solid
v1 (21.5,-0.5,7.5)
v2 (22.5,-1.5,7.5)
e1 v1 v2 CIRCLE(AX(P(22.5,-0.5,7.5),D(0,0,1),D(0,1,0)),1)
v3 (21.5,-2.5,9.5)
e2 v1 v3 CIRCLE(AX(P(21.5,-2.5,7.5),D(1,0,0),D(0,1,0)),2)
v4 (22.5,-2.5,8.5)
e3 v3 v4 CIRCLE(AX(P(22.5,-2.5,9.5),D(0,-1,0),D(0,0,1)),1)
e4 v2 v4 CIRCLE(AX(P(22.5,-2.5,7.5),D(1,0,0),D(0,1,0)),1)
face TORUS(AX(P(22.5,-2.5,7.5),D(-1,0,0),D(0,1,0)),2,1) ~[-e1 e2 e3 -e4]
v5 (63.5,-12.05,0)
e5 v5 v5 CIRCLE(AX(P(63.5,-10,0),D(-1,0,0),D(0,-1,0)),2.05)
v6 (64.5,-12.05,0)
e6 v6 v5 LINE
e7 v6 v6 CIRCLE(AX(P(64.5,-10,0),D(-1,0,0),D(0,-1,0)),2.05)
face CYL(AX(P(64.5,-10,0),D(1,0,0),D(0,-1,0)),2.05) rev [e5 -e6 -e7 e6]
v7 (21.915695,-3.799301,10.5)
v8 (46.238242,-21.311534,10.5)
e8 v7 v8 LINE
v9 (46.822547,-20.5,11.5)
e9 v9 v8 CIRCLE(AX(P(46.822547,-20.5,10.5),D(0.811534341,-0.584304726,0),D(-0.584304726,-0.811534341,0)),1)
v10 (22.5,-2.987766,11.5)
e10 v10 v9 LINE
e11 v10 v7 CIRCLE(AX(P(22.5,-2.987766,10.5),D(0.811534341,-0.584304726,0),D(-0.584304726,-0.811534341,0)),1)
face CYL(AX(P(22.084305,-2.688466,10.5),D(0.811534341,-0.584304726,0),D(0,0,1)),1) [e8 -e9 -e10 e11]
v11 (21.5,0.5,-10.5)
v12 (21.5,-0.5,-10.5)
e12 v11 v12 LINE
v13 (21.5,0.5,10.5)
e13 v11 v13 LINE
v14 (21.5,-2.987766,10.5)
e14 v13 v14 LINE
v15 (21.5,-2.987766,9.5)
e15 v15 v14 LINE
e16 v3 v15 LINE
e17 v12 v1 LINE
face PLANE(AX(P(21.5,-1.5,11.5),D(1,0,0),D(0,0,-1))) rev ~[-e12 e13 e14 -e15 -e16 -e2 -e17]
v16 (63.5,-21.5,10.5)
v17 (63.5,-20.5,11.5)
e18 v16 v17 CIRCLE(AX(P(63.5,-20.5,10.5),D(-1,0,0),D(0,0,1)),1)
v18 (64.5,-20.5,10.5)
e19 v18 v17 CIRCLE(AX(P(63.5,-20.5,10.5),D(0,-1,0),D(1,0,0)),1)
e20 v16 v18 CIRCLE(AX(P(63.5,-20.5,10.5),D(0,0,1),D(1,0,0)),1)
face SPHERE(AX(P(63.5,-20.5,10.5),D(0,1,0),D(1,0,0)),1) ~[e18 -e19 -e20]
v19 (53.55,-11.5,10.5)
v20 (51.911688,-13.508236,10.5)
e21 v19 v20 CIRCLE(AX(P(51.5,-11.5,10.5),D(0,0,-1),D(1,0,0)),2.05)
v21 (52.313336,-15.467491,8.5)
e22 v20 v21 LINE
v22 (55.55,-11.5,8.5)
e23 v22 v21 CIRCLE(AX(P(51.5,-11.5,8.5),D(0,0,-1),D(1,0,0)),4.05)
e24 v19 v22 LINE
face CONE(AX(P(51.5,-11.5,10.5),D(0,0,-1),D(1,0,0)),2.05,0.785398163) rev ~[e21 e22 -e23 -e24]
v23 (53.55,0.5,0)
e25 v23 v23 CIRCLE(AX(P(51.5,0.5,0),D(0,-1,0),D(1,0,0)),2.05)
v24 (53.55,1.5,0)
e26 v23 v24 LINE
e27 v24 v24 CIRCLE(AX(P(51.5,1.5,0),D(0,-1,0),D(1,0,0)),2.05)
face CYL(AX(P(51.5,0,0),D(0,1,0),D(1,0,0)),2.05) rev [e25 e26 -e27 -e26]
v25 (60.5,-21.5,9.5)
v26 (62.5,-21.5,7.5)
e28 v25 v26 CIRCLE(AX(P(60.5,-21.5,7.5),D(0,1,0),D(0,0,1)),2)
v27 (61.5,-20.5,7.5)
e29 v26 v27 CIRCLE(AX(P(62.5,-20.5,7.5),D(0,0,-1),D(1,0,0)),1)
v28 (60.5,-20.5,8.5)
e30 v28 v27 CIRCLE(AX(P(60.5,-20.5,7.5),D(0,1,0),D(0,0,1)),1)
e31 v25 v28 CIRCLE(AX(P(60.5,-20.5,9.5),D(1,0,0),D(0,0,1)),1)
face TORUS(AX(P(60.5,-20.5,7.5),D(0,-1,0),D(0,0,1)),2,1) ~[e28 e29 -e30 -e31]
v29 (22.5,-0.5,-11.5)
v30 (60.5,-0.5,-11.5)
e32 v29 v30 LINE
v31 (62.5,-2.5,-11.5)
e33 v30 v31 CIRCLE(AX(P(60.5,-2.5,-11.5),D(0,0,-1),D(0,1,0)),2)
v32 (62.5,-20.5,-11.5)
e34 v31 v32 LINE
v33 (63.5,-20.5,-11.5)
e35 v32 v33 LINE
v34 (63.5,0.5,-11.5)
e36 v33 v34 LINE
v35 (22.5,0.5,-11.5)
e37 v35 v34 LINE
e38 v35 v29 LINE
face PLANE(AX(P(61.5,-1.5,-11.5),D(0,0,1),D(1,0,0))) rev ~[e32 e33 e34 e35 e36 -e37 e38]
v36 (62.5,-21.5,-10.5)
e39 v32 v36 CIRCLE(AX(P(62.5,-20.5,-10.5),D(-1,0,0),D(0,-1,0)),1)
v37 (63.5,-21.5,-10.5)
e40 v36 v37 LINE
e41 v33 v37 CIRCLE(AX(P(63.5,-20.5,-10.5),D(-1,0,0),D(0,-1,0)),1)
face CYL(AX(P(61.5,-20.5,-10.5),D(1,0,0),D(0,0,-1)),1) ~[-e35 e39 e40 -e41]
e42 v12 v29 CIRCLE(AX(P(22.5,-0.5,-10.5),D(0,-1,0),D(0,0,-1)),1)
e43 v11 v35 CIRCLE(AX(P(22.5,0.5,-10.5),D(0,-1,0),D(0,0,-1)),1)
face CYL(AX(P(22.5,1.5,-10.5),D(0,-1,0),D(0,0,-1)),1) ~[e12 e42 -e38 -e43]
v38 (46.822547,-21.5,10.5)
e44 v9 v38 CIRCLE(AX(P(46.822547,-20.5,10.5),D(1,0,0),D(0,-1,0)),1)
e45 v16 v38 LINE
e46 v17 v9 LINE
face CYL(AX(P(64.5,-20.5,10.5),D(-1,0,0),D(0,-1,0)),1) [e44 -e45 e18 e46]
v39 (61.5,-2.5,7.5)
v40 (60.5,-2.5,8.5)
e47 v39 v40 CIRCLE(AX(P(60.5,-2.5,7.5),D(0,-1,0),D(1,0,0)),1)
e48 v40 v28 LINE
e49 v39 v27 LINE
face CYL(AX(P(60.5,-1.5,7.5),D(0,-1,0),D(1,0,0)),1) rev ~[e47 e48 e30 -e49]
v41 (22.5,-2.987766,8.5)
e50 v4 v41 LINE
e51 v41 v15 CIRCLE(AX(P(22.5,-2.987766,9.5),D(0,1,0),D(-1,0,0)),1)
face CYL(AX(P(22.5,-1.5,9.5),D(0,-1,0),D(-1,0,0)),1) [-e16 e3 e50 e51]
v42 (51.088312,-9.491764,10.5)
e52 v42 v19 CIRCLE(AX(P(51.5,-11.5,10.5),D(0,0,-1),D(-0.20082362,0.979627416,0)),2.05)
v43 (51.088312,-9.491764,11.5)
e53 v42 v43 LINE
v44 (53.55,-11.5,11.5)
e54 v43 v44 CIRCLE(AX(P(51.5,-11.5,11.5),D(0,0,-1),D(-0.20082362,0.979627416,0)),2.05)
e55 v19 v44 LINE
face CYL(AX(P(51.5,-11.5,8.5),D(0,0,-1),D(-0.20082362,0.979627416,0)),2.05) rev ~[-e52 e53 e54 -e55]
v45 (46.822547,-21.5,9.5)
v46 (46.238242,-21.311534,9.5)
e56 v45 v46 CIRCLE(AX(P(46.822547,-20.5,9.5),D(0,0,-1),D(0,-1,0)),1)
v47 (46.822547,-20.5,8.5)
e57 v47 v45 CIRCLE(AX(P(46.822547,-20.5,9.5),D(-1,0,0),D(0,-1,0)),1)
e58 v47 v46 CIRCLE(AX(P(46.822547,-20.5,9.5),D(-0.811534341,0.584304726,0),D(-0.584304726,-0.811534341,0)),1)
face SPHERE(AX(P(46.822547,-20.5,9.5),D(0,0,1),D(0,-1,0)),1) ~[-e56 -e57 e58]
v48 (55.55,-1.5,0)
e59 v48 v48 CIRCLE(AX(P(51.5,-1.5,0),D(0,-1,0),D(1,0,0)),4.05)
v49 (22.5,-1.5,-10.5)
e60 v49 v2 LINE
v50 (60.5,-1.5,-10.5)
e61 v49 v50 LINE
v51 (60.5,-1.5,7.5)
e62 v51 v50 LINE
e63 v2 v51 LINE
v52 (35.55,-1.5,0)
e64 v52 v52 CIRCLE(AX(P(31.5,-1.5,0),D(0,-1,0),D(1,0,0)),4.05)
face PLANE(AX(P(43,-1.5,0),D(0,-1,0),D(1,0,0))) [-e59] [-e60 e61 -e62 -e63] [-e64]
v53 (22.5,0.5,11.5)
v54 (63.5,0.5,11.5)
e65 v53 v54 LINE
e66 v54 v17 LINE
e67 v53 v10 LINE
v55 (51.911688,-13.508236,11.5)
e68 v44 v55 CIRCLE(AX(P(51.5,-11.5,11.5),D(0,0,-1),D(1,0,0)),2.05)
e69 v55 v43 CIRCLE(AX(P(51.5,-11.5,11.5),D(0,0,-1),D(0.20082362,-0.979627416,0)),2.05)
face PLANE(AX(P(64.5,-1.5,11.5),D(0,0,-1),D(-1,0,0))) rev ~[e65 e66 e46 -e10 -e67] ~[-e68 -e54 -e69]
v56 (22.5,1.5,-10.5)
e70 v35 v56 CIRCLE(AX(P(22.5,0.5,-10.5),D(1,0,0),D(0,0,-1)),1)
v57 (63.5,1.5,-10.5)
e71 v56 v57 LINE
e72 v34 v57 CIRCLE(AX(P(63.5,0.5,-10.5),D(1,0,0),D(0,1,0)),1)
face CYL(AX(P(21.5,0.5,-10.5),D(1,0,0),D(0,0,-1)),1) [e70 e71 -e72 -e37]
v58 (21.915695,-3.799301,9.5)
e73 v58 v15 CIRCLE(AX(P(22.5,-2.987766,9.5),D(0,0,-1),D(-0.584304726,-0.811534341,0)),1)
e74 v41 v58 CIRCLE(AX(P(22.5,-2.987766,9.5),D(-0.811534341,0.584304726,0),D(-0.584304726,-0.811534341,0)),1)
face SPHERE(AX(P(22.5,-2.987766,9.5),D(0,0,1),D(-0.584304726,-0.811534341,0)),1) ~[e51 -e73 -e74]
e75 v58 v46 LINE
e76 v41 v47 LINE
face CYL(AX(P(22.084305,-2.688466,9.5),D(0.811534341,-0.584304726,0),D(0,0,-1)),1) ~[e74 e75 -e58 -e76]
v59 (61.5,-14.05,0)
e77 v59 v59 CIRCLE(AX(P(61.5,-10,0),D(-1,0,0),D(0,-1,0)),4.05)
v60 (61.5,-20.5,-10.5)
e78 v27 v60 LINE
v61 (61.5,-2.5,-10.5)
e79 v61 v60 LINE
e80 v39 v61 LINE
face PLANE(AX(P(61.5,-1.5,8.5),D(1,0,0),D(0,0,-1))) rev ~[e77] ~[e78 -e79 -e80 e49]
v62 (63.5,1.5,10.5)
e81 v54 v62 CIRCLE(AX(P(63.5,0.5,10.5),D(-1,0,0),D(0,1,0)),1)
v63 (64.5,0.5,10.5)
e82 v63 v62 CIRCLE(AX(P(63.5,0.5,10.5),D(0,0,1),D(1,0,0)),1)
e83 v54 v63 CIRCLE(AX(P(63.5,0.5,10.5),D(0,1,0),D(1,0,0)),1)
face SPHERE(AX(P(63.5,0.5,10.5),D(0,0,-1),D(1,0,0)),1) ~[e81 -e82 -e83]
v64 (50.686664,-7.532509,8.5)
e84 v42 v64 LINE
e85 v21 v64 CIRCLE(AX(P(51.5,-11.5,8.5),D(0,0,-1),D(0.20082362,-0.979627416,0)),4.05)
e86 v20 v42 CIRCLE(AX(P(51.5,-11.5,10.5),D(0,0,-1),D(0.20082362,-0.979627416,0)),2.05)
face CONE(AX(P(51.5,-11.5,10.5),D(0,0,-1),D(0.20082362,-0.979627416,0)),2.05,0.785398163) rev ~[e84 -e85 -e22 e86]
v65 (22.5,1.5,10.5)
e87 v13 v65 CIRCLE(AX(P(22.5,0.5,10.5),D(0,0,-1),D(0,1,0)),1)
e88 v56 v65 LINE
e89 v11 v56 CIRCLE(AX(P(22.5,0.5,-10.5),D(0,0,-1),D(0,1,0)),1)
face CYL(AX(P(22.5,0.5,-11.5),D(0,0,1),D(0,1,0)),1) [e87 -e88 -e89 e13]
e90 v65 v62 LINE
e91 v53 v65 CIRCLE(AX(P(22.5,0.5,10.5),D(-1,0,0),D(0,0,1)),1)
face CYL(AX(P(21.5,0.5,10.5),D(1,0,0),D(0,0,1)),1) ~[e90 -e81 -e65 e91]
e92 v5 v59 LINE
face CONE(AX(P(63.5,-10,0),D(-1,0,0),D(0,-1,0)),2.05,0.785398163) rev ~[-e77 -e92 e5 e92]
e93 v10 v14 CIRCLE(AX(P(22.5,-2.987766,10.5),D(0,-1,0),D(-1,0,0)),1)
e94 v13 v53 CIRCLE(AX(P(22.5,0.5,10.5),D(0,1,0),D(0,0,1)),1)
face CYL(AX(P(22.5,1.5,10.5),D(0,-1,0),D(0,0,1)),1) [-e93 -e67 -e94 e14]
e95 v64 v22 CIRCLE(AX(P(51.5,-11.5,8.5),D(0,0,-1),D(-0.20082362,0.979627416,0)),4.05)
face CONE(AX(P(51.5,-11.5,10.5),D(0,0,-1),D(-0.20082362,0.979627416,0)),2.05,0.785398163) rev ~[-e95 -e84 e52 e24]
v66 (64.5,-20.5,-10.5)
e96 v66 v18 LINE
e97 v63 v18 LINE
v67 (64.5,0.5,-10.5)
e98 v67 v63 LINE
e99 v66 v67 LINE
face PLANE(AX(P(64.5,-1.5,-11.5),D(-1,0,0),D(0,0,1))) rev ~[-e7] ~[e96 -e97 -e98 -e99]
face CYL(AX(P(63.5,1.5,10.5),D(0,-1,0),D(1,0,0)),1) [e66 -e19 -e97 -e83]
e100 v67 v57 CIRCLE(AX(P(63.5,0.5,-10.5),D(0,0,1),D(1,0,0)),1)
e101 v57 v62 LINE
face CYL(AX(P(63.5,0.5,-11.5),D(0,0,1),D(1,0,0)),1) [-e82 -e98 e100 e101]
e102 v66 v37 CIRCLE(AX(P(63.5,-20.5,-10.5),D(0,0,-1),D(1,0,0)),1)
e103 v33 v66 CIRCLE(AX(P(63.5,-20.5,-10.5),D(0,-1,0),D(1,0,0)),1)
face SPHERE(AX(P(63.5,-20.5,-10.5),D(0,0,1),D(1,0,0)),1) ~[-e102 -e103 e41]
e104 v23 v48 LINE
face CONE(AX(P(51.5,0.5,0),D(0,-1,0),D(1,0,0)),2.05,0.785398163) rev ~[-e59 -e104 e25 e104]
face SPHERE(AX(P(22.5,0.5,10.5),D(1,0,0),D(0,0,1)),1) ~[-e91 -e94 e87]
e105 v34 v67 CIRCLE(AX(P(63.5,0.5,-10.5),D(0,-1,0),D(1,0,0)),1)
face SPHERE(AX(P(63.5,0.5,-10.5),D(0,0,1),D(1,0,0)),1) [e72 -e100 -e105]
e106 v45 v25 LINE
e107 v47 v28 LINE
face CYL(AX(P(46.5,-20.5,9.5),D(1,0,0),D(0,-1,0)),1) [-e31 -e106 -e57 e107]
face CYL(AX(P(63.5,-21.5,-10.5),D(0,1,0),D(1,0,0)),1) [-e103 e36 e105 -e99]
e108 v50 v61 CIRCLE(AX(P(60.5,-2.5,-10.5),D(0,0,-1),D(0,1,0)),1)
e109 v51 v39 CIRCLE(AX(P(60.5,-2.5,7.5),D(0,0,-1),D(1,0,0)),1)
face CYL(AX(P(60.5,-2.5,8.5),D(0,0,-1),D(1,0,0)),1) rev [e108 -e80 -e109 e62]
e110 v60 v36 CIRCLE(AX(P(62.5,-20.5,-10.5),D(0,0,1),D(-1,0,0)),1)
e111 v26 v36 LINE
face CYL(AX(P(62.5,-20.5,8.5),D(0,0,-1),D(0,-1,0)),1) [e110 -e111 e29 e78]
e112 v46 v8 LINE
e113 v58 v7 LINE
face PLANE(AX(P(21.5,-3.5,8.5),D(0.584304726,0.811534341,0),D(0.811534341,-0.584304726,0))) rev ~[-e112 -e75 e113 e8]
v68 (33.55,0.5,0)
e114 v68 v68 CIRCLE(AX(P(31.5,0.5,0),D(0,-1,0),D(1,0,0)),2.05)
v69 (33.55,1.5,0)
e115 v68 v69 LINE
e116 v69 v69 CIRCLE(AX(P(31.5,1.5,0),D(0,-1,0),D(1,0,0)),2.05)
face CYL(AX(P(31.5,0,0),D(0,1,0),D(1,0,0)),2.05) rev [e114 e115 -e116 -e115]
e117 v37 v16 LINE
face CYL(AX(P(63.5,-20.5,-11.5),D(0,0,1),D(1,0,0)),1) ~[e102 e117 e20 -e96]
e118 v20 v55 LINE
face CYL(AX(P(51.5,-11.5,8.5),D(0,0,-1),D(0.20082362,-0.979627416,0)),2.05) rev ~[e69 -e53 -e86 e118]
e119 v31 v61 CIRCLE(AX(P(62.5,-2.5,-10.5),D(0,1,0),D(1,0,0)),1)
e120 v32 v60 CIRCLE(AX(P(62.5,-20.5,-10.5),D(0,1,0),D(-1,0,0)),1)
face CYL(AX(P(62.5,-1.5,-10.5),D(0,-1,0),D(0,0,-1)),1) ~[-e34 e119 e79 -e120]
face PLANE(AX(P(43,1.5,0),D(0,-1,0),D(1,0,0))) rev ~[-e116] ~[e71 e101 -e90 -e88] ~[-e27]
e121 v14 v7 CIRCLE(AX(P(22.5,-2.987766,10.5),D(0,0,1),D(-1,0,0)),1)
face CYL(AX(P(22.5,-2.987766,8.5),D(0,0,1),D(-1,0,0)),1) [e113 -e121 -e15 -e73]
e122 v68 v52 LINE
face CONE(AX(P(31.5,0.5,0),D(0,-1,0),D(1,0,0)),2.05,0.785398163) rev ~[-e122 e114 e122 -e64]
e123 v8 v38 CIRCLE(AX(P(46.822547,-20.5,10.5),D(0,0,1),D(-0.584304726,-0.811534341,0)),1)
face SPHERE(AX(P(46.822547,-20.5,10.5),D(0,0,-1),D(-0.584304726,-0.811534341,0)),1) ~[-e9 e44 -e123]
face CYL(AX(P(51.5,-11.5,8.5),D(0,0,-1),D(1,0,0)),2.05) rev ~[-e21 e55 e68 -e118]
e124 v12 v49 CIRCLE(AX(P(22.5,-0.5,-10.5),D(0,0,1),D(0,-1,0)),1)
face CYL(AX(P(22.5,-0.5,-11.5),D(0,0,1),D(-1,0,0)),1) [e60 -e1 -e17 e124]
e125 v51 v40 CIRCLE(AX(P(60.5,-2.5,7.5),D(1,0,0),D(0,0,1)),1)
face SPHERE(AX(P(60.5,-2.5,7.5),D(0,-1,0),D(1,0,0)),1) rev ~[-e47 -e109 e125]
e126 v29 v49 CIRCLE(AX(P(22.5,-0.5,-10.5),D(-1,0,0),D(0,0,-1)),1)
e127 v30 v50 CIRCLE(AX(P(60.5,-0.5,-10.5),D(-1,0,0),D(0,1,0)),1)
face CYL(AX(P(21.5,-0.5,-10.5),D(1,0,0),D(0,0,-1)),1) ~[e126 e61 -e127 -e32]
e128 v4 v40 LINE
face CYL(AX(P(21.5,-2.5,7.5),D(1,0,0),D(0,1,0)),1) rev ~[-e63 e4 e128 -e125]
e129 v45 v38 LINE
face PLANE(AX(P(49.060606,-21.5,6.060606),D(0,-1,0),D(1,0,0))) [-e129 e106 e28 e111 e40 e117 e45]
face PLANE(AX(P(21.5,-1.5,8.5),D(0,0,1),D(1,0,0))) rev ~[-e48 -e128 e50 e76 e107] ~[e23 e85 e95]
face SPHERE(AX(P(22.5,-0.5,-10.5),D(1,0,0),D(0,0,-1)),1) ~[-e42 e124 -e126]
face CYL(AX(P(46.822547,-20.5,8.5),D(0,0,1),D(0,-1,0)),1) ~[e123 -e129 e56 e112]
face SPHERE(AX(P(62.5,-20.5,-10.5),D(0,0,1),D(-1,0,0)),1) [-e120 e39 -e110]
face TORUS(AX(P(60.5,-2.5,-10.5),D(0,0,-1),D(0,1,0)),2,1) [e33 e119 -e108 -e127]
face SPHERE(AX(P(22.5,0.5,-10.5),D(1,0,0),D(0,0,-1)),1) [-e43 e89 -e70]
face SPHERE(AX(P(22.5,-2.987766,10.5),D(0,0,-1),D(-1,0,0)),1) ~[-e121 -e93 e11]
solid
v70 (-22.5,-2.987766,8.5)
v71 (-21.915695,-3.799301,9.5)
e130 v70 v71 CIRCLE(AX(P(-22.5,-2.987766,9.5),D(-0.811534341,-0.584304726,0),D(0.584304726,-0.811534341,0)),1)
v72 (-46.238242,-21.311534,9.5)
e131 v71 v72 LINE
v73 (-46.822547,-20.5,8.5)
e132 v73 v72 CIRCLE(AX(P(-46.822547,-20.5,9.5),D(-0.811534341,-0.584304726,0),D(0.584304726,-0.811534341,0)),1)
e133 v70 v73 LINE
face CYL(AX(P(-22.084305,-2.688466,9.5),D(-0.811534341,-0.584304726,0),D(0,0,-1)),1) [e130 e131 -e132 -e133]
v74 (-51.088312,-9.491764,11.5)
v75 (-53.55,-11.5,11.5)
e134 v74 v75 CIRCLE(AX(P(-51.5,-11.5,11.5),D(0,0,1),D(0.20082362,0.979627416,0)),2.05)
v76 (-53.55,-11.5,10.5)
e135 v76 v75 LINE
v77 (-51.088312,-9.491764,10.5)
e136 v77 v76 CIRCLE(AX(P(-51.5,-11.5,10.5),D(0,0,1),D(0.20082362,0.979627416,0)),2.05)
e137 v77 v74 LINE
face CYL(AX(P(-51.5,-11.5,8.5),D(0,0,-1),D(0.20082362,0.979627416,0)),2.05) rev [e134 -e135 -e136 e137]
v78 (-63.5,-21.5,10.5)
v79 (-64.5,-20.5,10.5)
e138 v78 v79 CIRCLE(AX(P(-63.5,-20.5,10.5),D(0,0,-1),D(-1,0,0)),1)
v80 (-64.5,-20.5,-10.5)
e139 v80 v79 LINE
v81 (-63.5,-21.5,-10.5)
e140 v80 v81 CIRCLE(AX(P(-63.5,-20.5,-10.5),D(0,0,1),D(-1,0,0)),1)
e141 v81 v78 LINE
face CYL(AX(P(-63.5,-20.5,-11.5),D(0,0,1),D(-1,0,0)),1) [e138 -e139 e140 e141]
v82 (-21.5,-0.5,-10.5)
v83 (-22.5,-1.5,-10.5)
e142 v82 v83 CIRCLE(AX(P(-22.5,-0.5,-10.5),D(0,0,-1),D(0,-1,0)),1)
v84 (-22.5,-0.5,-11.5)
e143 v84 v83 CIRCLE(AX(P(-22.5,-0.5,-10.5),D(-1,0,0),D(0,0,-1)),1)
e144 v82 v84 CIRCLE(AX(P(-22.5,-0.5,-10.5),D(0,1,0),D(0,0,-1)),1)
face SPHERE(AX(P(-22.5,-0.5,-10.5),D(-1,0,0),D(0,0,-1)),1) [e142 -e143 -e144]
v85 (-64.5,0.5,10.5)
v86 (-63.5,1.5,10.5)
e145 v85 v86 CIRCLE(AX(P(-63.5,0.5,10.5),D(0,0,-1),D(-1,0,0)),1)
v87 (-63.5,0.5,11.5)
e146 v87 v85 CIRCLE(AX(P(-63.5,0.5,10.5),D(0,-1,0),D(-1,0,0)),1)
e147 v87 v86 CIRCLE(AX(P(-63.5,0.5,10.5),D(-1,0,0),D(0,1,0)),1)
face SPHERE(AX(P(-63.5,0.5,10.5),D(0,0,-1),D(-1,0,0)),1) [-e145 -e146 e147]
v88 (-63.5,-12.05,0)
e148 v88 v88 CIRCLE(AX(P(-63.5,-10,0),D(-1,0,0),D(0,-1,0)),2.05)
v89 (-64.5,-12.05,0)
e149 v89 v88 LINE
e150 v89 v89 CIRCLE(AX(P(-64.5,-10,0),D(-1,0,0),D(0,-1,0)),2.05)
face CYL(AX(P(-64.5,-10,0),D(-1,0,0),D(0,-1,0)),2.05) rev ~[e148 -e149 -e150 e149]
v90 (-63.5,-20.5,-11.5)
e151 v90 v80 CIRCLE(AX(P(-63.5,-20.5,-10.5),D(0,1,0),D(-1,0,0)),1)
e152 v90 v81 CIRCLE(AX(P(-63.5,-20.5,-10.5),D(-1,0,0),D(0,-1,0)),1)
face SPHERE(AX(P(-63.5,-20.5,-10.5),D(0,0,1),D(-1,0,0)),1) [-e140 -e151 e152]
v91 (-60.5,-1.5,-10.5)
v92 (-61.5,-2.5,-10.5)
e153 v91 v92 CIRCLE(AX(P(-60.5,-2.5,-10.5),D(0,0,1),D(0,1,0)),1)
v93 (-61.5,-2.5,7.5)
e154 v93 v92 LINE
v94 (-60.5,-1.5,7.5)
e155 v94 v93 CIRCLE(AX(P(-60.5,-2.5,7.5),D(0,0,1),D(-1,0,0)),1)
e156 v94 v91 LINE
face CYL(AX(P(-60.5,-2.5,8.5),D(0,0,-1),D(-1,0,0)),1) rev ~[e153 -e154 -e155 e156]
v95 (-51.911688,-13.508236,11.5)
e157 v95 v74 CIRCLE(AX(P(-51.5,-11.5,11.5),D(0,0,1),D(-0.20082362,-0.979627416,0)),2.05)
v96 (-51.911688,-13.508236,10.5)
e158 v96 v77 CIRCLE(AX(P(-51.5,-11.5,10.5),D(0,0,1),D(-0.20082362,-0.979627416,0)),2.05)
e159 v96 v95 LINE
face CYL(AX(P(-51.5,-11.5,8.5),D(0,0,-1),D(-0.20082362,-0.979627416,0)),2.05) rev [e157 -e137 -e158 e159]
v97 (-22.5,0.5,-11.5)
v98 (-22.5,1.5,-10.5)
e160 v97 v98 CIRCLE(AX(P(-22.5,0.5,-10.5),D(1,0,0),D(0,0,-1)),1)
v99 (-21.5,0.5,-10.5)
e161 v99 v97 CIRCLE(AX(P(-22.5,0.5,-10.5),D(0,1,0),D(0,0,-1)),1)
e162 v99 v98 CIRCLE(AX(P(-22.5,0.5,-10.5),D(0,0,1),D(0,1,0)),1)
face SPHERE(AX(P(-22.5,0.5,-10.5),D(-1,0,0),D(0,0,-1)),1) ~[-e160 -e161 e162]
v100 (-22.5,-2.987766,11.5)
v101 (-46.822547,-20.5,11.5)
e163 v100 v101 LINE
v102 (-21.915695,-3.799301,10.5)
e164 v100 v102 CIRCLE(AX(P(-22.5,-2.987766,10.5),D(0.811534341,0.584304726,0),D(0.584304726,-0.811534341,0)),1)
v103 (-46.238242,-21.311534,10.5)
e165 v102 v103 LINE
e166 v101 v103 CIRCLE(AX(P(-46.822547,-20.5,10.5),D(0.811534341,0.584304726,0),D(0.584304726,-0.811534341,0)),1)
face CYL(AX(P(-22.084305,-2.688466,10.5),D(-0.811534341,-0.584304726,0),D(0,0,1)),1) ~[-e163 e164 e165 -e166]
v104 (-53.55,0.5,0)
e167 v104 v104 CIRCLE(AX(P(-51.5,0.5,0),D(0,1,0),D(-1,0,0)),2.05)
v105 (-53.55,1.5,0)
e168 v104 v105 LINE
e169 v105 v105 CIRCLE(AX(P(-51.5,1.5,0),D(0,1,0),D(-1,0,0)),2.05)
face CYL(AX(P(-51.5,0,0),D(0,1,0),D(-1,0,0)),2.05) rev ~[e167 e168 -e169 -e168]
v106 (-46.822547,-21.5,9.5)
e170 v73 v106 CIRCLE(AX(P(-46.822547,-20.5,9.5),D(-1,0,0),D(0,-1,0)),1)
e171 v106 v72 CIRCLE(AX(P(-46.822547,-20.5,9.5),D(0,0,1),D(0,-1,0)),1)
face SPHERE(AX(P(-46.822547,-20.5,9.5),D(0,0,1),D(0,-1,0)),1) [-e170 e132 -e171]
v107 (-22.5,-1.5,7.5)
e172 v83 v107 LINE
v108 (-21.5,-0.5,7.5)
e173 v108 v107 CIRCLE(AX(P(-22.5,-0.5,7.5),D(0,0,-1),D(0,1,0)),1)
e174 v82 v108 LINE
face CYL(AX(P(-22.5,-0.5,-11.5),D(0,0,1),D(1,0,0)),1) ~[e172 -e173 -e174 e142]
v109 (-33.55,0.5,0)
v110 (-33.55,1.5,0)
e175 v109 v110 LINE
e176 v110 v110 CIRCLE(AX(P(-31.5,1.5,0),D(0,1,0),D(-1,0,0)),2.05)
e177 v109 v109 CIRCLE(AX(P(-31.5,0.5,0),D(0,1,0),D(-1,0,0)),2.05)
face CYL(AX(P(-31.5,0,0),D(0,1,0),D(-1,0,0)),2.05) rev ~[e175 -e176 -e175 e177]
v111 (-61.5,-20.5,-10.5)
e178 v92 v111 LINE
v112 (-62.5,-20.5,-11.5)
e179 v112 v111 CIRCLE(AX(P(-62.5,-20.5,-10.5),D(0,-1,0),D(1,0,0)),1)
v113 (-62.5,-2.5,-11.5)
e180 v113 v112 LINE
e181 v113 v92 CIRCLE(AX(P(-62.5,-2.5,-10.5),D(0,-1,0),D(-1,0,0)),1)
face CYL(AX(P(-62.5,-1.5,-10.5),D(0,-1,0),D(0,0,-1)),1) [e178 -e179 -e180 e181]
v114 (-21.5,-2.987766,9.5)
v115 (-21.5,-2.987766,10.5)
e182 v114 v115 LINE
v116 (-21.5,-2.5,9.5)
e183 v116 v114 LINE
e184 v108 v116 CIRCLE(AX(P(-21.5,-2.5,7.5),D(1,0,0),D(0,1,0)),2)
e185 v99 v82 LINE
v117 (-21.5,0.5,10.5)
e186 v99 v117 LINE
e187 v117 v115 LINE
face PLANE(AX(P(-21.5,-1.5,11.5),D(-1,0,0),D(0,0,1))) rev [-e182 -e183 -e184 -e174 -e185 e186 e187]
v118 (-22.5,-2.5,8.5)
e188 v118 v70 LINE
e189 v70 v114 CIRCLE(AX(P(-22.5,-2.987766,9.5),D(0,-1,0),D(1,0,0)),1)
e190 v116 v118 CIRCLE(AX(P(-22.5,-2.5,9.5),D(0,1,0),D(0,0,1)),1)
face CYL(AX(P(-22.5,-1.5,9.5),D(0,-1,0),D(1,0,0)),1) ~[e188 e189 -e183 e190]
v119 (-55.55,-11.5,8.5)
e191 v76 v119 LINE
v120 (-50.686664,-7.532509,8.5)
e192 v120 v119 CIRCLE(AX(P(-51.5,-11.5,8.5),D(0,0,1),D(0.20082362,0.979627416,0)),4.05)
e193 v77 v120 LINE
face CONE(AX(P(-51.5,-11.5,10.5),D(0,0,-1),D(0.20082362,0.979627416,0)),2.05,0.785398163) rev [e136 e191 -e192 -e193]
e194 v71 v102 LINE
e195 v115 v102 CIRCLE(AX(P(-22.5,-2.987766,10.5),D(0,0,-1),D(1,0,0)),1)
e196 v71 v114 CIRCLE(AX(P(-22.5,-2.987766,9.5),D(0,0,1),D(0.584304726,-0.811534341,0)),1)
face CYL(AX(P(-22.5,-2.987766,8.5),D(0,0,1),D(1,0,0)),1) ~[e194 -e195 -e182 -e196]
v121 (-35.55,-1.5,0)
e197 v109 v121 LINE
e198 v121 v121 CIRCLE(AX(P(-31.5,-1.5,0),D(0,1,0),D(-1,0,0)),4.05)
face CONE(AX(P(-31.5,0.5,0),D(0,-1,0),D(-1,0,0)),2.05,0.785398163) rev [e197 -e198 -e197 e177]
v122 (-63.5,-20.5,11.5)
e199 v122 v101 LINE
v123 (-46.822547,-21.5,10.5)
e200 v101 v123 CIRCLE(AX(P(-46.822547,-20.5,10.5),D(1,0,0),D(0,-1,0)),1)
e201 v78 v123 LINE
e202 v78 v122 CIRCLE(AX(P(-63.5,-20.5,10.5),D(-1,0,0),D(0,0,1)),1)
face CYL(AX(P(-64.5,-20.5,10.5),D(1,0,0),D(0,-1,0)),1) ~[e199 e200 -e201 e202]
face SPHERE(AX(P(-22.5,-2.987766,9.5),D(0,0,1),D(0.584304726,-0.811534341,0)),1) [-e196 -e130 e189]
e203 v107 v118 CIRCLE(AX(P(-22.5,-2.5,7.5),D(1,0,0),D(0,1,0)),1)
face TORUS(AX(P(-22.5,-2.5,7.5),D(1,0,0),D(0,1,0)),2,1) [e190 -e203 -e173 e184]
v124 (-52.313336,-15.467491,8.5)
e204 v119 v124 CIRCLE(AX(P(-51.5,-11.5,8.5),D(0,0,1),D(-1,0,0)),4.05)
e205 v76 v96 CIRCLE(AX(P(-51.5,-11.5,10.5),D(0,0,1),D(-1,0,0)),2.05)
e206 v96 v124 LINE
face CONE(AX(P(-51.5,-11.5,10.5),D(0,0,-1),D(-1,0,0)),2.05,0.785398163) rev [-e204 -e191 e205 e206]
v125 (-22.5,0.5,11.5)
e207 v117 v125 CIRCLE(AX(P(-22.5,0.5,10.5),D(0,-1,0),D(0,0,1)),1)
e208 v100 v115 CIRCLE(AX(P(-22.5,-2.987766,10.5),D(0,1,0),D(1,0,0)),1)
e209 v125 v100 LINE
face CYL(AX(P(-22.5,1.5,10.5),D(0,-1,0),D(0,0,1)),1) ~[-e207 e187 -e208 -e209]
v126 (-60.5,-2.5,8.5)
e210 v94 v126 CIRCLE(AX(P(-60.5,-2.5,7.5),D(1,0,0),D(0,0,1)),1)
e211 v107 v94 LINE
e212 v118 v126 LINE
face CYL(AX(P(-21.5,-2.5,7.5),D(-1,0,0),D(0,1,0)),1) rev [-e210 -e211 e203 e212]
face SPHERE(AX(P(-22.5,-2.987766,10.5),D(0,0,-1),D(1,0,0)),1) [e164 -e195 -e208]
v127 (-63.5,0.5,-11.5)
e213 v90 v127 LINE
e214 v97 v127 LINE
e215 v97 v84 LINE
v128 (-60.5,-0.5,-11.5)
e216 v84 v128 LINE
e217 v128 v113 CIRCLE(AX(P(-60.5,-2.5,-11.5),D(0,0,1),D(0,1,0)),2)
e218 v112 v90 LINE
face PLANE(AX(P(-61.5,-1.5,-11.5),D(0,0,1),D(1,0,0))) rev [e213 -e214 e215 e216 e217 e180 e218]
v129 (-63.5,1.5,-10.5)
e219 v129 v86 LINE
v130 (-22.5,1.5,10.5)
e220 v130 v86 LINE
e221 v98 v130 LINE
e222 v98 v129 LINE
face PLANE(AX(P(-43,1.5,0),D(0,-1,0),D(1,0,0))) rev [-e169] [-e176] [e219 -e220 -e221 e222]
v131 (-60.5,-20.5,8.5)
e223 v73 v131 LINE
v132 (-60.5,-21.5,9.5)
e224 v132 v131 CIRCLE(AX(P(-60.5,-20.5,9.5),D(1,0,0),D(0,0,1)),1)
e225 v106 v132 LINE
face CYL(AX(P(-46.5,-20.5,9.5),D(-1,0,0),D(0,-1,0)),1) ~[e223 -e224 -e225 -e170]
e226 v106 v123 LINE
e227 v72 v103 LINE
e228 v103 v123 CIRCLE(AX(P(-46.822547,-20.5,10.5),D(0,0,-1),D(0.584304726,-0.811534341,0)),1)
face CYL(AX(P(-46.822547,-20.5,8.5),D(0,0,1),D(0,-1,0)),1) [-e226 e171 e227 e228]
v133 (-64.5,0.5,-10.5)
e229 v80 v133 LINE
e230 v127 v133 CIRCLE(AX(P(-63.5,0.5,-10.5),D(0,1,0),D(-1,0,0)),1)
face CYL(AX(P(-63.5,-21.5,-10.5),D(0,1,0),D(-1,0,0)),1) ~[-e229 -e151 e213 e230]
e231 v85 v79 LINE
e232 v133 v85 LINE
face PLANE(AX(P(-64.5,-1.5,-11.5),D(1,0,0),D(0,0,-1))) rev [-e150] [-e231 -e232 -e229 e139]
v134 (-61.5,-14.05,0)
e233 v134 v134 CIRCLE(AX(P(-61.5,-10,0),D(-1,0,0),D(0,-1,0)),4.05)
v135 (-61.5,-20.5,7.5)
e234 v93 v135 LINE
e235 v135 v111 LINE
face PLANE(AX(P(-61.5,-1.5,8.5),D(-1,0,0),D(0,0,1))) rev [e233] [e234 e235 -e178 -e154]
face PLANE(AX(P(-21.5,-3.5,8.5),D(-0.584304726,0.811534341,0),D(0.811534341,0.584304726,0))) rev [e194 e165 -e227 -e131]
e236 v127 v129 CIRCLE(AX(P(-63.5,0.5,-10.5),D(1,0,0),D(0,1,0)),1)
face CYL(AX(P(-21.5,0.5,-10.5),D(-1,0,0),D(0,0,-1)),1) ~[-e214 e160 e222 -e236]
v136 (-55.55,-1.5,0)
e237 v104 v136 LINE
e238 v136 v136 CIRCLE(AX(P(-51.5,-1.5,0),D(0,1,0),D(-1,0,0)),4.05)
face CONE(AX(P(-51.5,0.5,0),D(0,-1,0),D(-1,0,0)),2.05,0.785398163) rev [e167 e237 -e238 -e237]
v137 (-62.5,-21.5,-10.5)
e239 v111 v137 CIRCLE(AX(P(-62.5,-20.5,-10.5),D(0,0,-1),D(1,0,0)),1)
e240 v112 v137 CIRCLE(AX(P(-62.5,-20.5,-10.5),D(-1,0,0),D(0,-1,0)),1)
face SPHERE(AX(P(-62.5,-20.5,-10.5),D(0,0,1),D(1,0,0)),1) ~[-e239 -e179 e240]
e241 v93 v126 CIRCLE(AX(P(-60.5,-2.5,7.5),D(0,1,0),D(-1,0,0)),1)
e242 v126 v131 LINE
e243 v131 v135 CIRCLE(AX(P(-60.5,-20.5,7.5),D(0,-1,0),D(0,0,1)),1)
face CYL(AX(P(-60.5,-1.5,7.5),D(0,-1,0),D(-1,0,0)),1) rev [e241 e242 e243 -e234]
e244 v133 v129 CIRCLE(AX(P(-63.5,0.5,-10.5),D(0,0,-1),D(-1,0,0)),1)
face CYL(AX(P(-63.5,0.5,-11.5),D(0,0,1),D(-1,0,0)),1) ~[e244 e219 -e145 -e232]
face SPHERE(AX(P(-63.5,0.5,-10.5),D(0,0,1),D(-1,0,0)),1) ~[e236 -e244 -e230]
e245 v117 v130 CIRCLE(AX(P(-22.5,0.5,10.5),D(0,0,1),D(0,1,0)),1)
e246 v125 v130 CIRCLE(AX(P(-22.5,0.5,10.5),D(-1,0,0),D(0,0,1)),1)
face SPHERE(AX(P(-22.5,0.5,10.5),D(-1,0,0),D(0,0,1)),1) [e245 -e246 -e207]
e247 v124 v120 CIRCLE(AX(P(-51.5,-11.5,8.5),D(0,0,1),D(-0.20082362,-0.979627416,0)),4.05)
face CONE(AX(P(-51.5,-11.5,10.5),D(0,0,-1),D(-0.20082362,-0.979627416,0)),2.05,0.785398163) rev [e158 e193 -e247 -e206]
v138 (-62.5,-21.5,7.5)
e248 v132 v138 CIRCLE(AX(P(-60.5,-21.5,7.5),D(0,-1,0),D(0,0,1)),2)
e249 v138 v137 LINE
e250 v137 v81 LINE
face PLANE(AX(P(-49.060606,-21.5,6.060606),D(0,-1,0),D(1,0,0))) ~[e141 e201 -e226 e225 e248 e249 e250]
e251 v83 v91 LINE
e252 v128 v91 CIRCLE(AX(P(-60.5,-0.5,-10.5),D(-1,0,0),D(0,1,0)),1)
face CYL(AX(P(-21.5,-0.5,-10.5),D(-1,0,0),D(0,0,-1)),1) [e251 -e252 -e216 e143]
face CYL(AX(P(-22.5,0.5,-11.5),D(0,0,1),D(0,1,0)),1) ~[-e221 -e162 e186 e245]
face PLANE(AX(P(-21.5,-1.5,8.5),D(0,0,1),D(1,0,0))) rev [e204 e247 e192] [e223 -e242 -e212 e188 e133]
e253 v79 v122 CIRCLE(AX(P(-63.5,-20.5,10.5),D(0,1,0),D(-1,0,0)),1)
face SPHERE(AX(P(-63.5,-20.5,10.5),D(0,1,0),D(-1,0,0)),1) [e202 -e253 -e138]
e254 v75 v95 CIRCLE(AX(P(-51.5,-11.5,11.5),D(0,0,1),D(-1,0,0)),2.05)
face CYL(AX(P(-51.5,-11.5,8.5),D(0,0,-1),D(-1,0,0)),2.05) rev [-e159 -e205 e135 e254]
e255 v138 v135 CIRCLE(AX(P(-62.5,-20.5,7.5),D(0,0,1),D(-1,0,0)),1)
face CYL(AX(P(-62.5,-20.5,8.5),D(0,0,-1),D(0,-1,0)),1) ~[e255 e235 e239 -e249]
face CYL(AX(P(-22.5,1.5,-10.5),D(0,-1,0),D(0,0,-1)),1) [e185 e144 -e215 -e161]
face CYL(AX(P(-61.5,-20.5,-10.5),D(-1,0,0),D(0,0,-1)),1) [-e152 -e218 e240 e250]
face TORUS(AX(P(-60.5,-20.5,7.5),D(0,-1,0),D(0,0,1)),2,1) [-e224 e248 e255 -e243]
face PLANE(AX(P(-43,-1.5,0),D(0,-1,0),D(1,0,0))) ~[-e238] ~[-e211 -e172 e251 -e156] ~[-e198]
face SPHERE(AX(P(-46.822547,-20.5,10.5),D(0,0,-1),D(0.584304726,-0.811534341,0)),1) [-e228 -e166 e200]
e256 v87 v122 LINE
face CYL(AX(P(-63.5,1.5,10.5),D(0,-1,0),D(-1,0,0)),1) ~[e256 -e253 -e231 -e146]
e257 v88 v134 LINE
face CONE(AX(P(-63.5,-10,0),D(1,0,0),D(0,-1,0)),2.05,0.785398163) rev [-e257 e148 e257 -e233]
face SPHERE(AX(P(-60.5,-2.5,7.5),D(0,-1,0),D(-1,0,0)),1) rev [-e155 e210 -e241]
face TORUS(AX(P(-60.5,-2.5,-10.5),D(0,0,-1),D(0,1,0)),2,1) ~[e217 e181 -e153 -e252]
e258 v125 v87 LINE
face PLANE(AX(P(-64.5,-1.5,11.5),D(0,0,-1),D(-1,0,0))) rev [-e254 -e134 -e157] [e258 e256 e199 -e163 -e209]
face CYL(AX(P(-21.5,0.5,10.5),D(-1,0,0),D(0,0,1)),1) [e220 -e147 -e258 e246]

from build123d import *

# Parameters (mm, degrees)
F0_W       = 43
F0_H       = 23
F0_R       = 2.05
F1_DEPTH   = 1.5
F3_DEPTH   = 20
F5_DEPTH   = 3.001
F7_DEPTH   = 3.001
F8_R       = 1
F10_R      = 2.05
F11_DEPTH  = 43.001
F13_SIZE   = 2
F13_2_SIZE = 2


with BuildPart() as f1:
    # F0 (on Front) → F1 (new body, symmetric)
    with BuildSketch(Plane.XZ):
        Rectangle(F0_W, F0_H)
        with Locations((-11.5, 0)):
            Circle(F0_R, mode=Mode.SUBTRACT)
        with Locations((8.5, 0)):
            Circle(F0_R, mode=Mode.SUBTRACT)
    extrude(amount=F1_DEPTH, both=True)

    # F2 (on face) → F3 (join)
    with BuildSketch(Plane.XZ.offset(1.5)):
        Polygon((21.5, -11.5), (21.5, 11.5), (-21.5, 11.5), (-21.5, 8.5), (18.5, 8.5), (18.5, -11.5), align=None)
    extrude(amount=F3_DEPTH)

    # F4 (on face) → F5 (cut, through all)
    with BuildSketch(Plane(origin=(0, 0, 8.5), x_dir=(1, 0, 0), z_dir=(0, 0, -1))):
        with BuildLine():
            ThreePointArc((8.9116884214, 13.5082362022), (6.4917637978, 11.9116884214), (8.0883115786, 9.4917637978))
            Line((8.0883115786, 9.4917637978), (8.9116884214, 13.5082362022))
        make_face()
        with BuildLine():
            Line((8.9116884214, 13.5082362022), (8.0883115786, 9.4917637978))
            ThreePointArc((8.0883115786, 9.4917637978), (9.7958662616, 9.9115319858), (10.55, 11.5))
            ThreePointArc((10.55, 11.5), (10.0884680142, 12.7958662616), (8.9116884214, 13.5082362022))
        make_face()
    extrude(amount=-F5_DEPTH, mode=Mode.SUBTRACT)

    # F6 (on face) → F7 (cut, through all)
    with BuildSketch(Plane(origin=(0, 0, 8.5), x_dir=(1, 0, 0), z_dir=(0, 0, -1))):
        Polygon((-21.5, 3.5), (3.5, 21.5), (-21.5, 21.5), align=None)
    extrude(amount=-F7_DEPTH, mode=Mode.SUBTRACT)

    # F8
    f8_edges = [f1.edges().sort_by_distance(p)[0] for p in [
        (21.5, 1.5, 0),
        (21.5, -10, 11.5),
        (21.5, -21.5, 0),
        (21.5, -10, -11.5),
        (0, 1.5, -11.5),
        (0, 1.5, 11.5),
        (-21.5, -1, 11.5),
        (-9, -12.5, 11.5),
        (12.5, -21.5, 11.5),
        (-9, -12.5, 8.5),
        (3.5, -21.5, 10),
        (11, -21.5, 8.5),
        (18.5, -21.5, -1.5),
        (-1.5, -1.5, -11.5),
        (18.5, -11.5, 8.5),
        (18.5, -11.5, -11.5),
        (18.5, -1.5, -1.5),
        (20, -21.5, -11.5),
        (-21.5, 0, -11.5),
        (-21.5, 1.5, 0),
        (-21.5, -1.5, -1.5),
        (-21.5, -2.5, 8.5),
        (-21.5, -3.5, 10),
        (-1.5, -1.5, 8.5),
    ]]
    fillet(f8_edges, radius=F8_R)


with BuildPart() as f14_1:
    # F14: instance of F1
    add(f1.part.mirror(Plane(origin=(-21.5, -0.2115756963, 1.3410341816), x_dir=(0, -1, 0), z_dir=(-1, 0, 0))))

    # F10 (on face) → F11 (cut, through all)
    with BuildSketch(Plane(origin=(-64.5, 0, 0), x_dir=(0, -1, 0), z_dir=(-1, 0, 0))):
        with Locations((10, 0)):
            Circle(F10_R)
    extrude(amount=-F11_DEPTH, mode=Mode.SUBTRACT)


with BuildPart() as f12_1:
    # F12: instance of F14_1
    add(f14_1.part.mirror(Plane.YZ))

    # F13#2
    f13_2_edges = [f12_1.edges().sort_by_distance(p)[0] for p in [
        (29.45, -1.5, 0),
        (49.45, -1.5, 0),
        (51.911688, -13.508236, 8.5),
        (61.5, -7.95, 0),
    ]]
    chamfer(f13_2_edges, length=F13_2_SIZE)


with BuildPart() as f14_1_1:
    add(f14_1.part)

    # F13
    f13_edges = [f14_1_1.edges().sort_by_distance(p)[0] for p in [
        (-51.911688, -13.508236, 8.5),
        (-49.45, -1.5, 0),
        (-29.45, -1.5, 0),
        (-61.5, -7.95, 0),
    ]]
    chamfer(f13_edges, length=F13_SIZE)


solid = Compound([f12_1.part, f14_1_1.part])
